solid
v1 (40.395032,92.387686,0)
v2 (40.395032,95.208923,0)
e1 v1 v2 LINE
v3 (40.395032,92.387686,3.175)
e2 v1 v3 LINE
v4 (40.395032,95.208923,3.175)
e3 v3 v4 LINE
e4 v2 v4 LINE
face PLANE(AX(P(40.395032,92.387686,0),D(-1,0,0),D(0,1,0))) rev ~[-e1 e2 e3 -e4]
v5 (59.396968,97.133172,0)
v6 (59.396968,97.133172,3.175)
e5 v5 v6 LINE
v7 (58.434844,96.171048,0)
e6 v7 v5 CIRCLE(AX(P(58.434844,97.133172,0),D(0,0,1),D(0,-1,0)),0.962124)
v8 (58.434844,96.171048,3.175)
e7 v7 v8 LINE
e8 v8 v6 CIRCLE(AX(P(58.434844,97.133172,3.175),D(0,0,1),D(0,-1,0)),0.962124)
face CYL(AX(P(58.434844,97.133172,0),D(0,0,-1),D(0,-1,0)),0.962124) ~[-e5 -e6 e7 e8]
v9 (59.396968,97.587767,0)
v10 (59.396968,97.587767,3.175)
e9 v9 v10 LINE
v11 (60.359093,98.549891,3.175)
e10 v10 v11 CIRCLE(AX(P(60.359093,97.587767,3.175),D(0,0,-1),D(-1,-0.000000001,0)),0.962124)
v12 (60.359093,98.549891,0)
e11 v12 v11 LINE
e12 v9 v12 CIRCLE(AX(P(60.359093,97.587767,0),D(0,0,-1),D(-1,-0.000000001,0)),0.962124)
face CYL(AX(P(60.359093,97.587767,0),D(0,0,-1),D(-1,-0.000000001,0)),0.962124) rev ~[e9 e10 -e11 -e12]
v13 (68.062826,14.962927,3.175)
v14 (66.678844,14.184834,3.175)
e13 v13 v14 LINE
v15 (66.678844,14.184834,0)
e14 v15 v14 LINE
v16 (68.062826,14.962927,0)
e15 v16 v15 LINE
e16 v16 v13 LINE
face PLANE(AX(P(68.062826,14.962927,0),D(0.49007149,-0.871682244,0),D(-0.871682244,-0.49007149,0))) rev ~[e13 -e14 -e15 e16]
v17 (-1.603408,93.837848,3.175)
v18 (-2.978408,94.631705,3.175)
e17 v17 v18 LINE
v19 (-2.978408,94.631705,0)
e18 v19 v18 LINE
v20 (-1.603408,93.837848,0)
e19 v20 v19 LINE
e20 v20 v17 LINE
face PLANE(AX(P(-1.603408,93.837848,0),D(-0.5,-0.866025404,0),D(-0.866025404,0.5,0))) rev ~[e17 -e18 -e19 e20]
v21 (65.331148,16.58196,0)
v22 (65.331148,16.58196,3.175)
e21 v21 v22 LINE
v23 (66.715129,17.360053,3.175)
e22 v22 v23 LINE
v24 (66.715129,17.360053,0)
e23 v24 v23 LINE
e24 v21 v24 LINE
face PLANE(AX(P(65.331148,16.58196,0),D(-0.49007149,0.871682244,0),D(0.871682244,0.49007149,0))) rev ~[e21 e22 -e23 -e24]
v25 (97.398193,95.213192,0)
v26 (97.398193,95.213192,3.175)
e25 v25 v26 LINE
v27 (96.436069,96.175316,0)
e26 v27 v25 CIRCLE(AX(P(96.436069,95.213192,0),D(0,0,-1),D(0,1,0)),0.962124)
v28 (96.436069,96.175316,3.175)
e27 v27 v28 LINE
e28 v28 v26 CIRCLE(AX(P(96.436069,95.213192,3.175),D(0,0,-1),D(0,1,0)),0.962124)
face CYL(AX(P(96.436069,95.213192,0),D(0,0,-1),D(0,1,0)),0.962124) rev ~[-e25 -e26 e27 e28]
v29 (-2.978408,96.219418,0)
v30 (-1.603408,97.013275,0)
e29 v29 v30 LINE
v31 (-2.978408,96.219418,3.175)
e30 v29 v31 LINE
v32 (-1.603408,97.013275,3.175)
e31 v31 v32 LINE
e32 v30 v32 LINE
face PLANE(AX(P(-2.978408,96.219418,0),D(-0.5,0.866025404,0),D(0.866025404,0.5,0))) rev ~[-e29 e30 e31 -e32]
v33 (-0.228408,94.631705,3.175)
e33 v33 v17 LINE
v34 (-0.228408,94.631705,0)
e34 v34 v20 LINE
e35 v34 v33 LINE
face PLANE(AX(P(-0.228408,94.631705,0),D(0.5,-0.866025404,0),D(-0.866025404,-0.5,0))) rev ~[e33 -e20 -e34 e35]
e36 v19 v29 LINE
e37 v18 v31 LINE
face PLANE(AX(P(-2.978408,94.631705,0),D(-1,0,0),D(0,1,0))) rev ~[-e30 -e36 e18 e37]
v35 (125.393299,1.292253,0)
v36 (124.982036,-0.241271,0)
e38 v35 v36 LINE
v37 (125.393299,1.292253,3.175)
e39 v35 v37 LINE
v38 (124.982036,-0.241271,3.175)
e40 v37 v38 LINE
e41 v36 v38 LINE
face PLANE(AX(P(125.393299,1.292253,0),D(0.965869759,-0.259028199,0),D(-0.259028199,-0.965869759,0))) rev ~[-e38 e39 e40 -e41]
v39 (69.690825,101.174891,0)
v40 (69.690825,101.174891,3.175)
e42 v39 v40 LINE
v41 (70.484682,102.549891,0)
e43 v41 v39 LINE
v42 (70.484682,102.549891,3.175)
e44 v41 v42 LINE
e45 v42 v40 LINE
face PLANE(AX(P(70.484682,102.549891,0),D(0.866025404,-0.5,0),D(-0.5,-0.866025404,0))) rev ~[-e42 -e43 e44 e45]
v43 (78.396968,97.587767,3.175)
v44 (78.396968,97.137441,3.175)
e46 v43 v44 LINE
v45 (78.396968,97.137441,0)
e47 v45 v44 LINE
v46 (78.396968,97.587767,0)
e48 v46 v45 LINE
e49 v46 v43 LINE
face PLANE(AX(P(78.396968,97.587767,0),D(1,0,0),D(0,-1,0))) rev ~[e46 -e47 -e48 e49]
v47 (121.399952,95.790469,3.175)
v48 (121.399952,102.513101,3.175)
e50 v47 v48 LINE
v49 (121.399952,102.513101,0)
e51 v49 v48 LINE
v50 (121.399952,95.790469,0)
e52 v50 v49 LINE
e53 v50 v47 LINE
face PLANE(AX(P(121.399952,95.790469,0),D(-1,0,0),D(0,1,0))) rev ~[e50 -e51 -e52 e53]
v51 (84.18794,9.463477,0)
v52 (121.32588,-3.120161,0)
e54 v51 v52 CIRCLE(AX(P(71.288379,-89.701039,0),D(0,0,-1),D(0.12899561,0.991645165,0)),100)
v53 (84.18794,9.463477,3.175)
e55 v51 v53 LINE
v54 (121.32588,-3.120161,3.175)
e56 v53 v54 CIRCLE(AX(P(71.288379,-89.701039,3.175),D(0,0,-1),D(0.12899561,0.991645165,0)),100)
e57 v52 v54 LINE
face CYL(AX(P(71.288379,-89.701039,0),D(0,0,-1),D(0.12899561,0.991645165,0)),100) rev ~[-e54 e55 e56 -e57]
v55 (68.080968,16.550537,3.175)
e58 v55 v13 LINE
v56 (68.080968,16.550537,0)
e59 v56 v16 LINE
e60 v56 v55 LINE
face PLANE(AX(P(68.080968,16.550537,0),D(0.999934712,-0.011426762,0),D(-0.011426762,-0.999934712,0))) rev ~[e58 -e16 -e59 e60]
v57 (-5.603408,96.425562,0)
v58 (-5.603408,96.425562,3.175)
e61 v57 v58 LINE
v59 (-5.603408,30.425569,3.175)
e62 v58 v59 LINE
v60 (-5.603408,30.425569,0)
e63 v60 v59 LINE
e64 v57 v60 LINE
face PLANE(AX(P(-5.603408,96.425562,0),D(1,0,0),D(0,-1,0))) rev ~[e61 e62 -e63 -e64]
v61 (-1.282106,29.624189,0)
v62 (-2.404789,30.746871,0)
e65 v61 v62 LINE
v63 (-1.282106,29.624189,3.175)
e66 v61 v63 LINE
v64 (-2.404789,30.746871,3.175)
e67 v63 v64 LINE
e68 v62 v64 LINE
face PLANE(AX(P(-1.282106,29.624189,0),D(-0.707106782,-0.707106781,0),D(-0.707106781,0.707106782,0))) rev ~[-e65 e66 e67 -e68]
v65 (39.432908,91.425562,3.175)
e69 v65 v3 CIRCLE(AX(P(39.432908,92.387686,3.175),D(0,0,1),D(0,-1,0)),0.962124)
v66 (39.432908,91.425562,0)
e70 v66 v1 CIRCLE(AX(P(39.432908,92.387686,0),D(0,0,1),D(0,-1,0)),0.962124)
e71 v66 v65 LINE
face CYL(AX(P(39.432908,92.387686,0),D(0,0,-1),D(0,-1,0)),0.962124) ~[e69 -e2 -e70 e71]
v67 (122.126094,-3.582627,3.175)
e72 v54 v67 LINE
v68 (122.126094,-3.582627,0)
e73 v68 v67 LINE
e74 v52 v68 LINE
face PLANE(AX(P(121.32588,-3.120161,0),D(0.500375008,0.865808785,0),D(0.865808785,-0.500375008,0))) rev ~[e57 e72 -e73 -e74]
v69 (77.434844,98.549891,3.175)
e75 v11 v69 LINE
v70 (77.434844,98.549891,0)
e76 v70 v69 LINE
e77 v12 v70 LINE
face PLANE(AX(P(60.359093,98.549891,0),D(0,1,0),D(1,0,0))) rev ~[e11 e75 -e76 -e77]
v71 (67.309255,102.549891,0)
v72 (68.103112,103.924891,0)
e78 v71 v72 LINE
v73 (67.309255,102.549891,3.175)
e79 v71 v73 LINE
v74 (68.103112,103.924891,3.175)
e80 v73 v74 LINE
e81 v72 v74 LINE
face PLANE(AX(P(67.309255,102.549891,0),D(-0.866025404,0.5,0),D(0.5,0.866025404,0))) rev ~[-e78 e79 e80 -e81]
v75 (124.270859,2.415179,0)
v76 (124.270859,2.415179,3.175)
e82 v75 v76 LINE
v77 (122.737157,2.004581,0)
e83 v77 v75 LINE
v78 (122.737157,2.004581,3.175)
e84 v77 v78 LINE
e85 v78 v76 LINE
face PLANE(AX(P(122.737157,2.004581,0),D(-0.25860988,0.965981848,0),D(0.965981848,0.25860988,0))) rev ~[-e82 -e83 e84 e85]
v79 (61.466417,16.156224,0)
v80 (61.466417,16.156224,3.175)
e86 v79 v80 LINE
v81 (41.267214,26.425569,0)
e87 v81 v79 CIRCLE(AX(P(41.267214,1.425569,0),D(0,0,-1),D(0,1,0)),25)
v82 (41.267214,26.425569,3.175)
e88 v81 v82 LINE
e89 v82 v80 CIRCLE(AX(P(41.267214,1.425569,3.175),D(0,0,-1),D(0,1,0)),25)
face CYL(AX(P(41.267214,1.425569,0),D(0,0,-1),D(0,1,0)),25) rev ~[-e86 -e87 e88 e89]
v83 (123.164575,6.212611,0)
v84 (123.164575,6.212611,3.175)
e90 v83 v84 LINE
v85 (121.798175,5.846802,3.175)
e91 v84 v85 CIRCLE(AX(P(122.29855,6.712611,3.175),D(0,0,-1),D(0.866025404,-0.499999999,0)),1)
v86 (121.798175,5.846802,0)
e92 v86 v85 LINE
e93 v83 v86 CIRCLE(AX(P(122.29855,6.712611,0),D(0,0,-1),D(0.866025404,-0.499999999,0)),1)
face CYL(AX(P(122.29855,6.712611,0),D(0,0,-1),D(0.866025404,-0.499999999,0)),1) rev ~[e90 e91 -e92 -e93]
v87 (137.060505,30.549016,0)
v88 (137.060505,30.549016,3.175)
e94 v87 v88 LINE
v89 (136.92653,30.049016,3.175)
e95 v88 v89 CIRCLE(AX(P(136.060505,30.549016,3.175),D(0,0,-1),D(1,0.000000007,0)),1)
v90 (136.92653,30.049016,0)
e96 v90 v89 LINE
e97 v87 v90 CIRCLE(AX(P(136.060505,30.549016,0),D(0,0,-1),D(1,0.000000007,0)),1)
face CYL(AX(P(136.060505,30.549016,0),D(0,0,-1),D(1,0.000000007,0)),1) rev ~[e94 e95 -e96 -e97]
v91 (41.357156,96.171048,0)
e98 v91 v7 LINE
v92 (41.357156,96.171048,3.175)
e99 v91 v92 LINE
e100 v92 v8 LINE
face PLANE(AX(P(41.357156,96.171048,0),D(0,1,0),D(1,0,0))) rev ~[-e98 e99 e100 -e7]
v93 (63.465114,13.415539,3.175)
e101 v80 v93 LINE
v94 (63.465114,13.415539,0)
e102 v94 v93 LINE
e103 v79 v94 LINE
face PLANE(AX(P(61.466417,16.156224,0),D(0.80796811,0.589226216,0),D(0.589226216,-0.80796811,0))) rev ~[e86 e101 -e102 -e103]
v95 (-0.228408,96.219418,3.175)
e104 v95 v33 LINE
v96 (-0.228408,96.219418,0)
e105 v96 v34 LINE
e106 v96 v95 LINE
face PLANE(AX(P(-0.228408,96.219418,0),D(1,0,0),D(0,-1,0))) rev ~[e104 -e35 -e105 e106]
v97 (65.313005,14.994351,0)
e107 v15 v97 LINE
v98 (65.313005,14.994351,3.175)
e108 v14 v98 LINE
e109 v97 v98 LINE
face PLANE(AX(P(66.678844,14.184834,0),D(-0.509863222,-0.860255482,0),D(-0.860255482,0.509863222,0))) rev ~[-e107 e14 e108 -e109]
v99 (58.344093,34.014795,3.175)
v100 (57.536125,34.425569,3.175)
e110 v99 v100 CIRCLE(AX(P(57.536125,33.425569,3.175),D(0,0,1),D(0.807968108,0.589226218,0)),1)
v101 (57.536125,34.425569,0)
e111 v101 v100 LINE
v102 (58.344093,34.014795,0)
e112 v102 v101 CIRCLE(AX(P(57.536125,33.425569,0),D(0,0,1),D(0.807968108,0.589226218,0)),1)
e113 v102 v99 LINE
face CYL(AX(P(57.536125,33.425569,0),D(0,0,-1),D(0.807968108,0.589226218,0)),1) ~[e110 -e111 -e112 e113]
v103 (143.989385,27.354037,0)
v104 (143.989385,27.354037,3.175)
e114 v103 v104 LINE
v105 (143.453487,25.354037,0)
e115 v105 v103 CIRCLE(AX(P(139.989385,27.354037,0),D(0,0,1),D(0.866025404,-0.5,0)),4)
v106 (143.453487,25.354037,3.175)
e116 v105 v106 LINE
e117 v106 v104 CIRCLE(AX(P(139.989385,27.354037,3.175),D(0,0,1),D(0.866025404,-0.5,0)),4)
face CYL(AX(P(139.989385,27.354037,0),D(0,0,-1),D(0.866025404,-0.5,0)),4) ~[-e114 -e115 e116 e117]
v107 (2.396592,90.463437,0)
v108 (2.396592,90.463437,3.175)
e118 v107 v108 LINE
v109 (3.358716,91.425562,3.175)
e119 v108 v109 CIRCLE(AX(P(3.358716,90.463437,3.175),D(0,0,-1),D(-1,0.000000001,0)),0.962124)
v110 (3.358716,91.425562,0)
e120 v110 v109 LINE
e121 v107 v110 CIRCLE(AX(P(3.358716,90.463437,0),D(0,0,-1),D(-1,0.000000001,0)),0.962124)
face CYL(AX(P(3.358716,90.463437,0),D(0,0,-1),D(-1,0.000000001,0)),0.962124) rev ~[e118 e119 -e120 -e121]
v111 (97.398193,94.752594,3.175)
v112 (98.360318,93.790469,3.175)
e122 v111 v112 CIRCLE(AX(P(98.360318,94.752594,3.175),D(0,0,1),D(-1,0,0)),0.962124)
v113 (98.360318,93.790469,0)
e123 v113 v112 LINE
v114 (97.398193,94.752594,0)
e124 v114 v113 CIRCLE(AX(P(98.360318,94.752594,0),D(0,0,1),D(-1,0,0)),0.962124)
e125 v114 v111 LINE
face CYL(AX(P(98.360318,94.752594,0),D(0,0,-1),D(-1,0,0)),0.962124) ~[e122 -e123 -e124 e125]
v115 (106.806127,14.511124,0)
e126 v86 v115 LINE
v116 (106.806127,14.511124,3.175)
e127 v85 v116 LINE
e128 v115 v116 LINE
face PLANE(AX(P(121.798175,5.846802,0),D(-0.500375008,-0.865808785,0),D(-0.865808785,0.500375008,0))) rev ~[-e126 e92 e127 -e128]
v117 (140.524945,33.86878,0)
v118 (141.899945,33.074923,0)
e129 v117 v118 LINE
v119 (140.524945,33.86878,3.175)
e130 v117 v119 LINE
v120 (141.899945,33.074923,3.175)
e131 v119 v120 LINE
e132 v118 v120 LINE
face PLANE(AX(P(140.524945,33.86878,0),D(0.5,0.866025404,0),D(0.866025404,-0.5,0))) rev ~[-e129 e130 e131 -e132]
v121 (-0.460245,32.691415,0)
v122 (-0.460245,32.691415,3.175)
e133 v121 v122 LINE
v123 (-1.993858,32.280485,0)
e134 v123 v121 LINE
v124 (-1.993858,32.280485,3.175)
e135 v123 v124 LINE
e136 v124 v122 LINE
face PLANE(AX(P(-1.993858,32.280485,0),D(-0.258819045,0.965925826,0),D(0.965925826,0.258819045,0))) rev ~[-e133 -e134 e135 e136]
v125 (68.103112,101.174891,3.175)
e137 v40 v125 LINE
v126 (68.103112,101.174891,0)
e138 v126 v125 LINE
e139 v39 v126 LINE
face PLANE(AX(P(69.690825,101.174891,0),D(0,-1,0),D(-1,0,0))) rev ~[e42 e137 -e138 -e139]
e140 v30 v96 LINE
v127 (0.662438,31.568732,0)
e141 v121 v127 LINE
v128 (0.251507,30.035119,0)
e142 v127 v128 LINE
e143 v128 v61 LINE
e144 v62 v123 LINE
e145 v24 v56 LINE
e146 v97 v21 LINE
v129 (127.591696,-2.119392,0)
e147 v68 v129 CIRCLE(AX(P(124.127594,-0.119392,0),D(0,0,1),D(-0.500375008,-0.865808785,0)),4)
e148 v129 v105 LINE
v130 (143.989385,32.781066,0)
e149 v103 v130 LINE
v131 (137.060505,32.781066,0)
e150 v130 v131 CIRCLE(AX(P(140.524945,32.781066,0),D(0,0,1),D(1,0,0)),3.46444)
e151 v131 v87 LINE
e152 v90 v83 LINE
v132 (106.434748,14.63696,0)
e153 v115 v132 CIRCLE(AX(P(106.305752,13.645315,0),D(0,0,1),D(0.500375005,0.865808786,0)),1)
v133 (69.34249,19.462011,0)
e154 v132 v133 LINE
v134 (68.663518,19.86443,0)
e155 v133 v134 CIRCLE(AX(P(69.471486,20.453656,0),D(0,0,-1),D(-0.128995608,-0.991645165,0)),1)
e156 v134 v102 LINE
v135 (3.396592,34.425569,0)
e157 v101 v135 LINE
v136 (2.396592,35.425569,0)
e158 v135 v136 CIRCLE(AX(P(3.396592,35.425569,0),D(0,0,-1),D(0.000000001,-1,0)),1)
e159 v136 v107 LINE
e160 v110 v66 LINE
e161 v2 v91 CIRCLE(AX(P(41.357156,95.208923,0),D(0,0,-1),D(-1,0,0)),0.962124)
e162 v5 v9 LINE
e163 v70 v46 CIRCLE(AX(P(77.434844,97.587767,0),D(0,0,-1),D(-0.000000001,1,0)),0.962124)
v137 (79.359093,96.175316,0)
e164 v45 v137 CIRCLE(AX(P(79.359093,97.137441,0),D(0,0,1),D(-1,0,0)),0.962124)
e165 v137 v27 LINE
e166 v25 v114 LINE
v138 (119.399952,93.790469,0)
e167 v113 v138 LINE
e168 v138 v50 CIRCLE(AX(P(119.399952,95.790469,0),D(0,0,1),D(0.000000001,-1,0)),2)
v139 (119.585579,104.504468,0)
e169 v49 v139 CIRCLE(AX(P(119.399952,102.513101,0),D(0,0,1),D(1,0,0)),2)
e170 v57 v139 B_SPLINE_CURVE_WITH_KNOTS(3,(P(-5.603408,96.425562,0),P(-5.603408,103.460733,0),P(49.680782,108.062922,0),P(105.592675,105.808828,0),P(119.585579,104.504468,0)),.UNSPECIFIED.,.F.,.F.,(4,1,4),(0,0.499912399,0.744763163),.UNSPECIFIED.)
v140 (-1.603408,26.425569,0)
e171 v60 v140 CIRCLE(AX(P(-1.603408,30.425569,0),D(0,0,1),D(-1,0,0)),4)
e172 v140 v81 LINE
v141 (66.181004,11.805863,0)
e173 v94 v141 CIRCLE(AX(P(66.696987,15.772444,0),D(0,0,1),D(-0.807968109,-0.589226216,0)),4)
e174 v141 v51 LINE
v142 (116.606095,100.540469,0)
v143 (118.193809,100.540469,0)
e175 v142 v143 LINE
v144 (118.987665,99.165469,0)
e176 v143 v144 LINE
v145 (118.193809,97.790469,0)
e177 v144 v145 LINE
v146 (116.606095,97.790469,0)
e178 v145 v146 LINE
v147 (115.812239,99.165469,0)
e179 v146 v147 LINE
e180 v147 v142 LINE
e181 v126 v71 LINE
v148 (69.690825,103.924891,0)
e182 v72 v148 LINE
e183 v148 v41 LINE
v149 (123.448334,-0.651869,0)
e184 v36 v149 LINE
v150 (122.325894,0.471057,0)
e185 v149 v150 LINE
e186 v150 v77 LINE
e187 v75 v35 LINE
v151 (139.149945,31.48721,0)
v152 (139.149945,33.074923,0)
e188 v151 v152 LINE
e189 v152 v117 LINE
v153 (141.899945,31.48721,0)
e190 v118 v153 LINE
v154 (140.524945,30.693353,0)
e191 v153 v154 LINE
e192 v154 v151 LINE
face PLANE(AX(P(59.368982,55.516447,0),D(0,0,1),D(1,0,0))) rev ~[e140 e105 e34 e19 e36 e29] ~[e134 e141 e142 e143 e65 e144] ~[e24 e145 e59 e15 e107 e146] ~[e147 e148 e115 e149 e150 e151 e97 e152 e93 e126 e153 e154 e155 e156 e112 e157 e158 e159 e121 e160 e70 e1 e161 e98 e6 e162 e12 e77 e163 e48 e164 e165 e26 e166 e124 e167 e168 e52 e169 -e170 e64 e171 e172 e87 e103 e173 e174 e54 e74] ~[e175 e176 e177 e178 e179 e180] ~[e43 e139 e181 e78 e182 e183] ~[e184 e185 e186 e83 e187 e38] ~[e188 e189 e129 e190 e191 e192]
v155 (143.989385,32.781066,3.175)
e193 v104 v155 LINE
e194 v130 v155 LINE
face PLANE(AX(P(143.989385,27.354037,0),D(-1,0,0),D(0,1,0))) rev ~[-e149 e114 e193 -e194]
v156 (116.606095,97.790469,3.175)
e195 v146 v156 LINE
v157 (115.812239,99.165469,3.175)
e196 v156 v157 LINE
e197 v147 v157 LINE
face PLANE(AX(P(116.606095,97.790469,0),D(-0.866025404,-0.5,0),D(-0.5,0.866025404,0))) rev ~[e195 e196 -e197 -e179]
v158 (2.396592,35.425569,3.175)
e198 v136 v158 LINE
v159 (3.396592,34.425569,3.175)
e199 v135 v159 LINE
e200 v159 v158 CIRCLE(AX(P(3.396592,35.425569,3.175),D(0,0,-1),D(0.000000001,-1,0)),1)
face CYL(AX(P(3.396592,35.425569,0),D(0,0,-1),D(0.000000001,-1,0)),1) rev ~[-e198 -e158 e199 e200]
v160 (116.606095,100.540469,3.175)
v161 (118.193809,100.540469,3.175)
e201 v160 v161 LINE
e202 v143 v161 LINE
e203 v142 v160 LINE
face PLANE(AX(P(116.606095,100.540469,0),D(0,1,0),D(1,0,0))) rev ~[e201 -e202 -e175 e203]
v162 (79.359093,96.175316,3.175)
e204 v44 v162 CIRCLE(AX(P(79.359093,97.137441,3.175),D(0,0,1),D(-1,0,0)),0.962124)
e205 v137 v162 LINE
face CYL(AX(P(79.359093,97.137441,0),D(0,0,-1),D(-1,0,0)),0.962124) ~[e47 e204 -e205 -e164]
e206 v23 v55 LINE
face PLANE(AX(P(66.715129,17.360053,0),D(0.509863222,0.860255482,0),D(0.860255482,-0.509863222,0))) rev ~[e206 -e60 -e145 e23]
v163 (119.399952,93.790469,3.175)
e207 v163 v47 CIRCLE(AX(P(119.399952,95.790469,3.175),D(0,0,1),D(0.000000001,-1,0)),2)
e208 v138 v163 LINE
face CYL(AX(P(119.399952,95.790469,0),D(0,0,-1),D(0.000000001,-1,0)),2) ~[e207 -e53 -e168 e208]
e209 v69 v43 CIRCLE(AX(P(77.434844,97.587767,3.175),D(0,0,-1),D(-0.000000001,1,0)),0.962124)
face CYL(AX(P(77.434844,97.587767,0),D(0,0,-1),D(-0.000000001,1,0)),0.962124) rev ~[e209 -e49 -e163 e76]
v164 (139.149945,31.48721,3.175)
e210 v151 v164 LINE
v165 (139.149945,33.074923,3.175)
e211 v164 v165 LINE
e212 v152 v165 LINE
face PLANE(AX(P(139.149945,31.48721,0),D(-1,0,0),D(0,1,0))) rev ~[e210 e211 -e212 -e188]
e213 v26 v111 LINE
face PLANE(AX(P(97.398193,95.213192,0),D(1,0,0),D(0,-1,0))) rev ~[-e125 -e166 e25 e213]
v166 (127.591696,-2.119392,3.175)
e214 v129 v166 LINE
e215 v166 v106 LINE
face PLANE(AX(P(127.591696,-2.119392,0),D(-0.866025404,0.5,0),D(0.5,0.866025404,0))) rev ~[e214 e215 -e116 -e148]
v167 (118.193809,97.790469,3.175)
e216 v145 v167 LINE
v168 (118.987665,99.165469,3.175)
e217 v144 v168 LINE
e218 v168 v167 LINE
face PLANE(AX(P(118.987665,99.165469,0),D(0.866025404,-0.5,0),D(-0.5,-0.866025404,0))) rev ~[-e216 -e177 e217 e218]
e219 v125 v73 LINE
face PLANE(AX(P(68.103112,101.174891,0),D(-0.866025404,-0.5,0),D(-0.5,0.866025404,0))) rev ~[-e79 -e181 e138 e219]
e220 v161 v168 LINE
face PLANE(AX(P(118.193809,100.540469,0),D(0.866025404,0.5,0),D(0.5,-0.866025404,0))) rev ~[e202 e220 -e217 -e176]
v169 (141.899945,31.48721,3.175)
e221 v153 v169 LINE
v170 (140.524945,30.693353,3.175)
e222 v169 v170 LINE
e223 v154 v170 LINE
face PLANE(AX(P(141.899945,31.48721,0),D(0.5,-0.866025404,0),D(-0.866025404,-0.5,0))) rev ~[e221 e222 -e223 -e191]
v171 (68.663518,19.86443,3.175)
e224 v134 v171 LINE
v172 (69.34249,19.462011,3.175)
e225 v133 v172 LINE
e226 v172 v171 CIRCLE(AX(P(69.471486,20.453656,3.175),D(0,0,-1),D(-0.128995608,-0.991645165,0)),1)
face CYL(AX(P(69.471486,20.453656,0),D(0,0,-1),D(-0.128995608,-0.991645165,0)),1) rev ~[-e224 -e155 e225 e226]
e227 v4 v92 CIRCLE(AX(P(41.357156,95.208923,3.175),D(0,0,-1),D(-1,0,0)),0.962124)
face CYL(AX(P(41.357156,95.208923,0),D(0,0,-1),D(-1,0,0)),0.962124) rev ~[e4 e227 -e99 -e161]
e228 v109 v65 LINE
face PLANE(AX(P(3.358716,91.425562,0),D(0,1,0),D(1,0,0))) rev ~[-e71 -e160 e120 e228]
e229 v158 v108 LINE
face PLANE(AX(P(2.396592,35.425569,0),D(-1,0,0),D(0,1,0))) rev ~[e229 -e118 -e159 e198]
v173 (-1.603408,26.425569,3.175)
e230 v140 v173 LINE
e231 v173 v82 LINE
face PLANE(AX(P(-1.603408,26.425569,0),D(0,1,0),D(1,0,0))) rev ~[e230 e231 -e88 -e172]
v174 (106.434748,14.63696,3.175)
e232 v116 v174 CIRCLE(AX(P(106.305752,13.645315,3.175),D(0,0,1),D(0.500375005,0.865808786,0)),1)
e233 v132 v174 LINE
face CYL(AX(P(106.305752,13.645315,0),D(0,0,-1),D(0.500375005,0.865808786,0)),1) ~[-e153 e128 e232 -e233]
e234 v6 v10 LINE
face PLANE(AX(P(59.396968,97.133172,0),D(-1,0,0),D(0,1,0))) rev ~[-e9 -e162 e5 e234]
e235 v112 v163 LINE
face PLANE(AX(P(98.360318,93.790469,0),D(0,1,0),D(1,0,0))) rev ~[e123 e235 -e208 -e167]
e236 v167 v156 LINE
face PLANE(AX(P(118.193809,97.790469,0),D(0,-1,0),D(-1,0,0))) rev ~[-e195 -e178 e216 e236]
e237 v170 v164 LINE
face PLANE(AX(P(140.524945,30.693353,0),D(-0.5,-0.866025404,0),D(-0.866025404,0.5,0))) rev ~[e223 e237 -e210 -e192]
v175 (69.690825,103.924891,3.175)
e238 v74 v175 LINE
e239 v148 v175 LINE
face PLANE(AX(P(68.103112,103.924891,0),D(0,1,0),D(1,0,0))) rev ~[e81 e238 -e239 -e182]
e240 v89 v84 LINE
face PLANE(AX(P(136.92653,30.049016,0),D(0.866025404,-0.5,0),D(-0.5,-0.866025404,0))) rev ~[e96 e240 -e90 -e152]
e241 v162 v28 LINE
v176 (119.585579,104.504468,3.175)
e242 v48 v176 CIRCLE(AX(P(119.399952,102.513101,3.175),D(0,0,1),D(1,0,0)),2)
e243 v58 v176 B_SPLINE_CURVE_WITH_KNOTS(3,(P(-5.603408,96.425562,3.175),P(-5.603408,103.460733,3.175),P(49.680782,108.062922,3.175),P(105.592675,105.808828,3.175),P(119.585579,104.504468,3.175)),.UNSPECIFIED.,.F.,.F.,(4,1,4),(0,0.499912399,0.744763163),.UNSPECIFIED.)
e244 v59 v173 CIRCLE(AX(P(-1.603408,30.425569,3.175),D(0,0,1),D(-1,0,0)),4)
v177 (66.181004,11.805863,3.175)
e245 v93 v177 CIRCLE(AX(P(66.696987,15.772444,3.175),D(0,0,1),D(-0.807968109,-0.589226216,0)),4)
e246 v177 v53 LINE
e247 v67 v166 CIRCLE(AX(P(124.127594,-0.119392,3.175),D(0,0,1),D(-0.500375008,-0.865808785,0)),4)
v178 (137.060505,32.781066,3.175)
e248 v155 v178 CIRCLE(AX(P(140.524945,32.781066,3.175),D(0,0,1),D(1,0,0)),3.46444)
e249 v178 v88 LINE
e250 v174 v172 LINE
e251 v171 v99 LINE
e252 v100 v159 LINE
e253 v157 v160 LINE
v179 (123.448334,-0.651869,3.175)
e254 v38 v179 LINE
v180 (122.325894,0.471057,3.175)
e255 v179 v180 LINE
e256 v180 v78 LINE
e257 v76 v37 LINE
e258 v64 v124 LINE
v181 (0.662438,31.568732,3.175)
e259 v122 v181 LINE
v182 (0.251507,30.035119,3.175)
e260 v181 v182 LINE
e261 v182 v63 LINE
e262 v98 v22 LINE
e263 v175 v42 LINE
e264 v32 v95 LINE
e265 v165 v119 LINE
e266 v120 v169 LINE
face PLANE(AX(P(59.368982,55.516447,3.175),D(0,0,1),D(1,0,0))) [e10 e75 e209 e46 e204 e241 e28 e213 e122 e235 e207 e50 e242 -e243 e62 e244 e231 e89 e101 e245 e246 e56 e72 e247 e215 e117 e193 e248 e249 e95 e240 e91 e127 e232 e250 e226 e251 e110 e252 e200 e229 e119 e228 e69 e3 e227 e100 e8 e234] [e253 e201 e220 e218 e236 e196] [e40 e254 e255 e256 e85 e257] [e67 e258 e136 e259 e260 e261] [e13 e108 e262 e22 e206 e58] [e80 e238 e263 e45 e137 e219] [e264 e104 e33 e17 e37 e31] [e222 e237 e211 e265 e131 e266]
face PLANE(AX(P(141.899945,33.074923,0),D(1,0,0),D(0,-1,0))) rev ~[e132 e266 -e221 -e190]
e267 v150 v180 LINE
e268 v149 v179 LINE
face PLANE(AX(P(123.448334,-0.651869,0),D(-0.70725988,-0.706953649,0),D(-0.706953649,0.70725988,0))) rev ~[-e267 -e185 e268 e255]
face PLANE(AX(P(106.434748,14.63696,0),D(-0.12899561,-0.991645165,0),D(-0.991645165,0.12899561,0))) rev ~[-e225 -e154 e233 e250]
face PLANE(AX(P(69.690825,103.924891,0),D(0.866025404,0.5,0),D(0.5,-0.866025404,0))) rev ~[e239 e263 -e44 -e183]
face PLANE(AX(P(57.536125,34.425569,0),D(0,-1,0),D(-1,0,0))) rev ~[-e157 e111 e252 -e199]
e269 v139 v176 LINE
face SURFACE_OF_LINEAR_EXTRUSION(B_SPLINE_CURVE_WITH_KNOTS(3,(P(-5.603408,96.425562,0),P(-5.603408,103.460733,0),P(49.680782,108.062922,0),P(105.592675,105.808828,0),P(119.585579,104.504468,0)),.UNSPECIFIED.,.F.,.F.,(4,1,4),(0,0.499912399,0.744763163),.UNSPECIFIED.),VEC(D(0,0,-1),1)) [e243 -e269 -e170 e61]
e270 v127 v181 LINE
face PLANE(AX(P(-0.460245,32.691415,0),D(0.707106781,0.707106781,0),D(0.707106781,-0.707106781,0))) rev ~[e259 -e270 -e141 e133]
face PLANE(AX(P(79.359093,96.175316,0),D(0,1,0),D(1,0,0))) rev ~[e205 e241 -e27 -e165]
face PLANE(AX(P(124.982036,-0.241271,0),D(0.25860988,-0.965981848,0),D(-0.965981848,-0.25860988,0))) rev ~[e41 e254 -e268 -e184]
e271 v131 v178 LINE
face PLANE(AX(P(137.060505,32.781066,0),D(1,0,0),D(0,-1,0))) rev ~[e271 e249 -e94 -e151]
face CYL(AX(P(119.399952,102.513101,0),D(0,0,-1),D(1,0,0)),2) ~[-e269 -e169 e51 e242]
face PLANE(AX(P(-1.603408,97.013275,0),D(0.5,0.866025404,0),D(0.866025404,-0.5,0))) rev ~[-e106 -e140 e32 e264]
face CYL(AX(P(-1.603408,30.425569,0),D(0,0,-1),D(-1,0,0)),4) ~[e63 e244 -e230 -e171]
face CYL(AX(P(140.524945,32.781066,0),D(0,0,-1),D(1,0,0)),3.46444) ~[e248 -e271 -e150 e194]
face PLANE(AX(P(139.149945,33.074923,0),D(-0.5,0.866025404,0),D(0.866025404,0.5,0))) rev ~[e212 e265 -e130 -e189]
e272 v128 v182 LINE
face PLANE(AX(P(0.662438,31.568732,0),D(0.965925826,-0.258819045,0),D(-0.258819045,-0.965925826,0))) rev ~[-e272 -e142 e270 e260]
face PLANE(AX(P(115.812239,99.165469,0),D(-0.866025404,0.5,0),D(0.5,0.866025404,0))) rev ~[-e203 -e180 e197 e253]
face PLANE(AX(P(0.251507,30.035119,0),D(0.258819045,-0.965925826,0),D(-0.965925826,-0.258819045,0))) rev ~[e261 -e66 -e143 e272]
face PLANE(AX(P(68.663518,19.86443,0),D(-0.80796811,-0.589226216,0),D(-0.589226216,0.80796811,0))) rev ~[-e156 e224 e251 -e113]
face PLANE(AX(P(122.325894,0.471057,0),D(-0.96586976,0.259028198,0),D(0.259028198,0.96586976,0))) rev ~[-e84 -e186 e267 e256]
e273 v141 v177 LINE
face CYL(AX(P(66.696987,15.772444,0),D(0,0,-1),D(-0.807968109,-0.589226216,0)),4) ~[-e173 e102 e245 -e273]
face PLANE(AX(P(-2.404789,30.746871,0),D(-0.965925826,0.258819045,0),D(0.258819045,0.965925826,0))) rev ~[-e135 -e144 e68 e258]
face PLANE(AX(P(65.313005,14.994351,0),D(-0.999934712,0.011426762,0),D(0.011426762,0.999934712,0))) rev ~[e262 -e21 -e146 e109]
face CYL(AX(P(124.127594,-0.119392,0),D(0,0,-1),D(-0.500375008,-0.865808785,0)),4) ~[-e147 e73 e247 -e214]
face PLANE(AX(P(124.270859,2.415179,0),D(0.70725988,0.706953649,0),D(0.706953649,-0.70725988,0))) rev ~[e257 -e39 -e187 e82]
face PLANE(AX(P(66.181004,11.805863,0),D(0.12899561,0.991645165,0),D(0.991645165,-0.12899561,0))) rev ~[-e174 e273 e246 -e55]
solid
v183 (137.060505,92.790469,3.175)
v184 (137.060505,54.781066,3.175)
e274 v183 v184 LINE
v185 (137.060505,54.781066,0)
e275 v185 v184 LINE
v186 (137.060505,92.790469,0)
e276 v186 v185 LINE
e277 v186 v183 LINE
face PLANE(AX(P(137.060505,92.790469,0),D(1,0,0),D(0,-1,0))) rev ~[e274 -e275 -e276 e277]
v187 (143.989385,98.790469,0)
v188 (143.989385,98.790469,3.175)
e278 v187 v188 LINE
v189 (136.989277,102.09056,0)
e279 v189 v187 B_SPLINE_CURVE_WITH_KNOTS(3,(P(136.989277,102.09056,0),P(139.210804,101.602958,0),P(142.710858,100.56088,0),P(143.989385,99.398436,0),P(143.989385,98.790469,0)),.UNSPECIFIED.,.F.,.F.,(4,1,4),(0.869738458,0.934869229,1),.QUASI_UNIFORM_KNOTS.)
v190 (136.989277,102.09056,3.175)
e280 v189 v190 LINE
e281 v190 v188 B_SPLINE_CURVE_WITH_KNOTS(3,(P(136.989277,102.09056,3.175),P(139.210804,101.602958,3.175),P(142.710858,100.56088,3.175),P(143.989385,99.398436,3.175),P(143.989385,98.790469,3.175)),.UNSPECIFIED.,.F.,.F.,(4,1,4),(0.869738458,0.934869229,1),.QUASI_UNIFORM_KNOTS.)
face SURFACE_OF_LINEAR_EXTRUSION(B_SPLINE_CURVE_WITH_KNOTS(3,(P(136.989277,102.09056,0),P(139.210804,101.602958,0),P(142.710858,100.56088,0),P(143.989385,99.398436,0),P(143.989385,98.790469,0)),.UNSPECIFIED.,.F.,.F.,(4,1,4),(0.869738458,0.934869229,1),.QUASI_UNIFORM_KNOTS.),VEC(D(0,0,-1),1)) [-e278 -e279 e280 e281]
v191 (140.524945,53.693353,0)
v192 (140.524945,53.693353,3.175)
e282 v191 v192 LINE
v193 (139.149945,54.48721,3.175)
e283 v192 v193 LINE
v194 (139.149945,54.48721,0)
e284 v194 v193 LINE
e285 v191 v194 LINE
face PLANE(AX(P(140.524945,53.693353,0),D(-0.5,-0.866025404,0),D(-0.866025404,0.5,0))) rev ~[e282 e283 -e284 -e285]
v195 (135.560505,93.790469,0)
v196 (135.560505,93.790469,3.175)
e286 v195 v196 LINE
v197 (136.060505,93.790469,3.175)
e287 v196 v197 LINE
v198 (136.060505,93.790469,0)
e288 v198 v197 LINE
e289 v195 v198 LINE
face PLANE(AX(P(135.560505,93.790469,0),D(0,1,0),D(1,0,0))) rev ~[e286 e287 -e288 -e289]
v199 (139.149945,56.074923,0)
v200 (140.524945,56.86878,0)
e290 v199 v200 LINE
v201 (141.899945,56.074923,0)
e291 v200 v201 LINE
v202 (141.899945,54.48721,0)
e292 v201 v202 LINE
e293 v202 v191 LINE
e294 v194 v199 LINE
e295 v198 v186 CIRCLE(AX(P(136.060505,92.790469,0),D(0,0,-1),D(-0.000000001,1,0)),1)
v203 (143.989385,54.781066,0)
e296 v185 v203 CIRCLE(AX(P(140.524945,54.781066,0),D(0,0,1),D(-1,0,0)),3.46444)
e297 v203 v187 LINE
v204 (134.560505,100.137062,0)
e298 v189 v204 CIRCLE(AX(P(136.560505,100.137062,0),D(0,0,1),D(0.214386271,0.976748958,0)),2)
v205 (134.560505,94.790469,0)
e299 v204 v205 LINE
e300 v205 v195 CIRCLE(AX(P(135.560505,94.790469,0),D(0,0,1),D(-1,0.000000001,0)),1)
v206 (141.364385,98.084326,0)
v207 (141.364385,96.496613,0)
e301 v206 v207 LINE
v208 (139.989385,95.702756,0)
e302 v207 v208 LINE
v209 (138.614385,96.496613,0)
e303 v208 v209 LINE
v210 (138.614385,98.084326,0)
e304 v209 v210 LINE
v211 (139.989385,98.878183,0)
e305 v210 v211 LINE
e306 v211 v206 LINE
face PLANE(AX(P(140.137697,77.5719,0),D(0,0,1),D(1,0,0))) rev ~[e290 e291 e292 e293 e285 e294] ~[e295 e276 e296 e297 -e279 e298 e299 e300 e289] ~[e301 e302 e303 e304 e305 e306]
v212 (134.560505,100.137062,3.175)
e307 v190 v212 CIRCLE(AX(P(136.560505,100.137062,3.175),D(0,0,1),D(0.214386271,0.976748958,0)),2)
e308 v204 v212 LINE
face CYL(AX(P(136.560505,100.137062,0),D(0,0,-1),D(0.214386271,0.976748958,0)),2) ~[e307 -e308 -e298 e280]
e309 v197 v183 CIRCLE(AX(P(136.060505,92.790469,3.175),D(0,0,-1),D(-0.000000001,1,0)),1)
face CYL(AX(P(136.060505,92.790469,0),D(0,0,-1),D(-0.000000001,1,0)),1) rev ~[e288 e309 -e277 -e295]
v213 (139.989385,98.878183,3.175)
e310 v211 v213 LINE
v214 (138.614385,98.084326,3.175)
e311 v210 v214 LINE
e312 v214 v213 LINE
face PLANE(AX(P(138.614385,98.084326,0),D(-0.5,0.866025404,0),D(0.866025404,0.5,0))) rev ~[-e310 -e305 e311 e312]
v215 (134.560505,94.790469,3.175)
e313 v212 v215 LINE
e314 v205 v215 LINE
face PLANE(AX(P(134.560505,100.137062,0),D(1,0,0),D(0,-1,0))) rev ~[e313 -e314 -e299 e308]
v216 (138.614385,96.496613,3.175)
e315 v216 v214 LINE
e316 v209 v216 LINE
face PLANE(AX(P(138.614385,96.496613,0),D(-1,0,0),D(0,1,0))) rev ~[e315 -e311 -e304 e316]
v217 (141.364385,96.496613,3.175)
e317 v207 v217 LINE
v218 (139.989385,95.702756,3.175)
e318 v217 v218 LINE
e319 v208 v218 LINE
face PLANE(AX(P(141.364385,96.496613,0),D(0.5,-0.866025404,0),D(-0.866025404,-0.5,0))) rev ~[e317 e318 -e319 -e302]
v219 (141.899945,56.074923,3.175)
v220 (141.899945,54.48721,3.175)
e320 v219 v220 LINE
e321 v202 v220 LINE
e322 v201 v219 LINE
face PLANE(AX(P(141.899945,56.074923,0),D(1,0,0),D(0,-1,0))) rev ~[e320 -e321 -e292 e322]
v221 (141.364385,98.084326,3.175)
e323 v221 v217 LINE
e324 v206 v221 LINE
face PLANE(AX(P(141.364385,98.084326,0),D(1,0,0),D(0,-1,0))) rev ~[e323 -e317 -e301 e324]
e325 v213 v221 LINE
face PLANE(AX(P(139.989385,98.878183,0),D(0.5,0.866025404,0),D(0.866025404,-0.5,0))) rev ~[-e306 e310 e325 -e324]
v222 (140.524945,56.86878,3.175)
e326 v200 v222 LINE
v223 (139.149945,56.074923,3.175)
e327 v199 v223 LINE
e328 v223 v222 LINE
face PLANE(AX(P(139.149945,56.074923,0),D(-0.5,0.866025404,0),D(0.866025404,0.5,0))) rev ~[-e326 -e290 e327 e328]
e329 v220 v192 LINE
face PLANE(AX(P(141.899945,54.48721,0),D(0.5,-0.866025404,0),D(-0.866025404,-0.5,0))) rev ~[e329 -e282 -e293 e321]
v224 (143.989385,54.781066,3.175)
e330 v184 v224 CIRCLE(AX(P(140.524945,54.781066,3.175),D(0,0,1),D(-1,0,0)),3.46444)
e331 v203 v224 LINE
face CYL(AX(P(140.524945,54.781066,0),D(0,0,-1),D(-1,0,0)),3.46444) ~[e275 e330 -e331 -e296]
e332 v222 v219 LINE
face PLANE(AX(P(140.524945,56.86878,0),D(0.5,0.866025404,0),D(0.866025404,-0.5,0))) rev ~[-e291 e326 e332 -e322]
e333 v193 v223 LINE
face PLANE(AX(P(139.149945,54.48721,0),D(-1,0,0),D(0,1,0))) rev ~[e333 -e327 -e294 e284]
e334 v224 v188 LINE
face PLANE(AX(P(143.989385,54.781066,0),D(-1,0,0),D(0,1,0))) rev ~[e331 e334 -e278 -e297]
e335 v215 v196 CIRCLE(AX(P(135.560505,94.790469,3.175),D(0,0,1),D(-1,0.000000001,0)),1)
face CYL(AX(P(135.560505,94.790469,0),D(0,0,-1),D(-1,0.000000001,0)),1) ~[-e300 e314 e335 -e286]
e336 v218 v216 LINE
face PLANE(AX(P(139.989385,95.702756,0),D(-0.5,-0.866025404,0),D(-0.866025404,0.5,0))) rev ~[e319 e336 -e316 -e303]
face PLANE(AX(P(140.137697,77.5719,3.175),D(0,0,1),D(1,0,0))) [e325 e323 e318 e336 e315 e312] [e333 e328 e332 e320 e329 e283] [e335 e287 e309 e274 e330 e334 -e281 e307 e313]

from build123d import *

# Parameters (mm, degrees)
BOSS_EXTRUDE1_DEPTH   = 3.175
BOSS_EXTRUDE1_2_DEPTH = 3.175


with BuildPart() as part:
    # Sketch2 → Boss-Extrude1 (new body)
    with BuildSketch(Plane.XY):
        with BuildLine():
            ThreePointArc((137.06050463, 54.781066453), (140.524945013, 51.31662607), (143.989385396, 54.781066453))
            Line((143.989385396, 54.781066453), (143.989385396, 98.790469349))
            add(Edge.make_bspline(
                [(136.989277174, 102.090560266), (139.210803765, 101.602958206), (142.710857876, 100.560879885), (143.989385396, 99.398436487), (143.989385396, 98.790469349)],
                knots=[0.869738458, 0.869738458, 0.869738458, 0.869738458, 0.934869229, 1, 1, 1, 1], degree=3))
            ThreePointArc((136.989277174, 102.090560266), (135.307018509, 101.69551432), (134.560504631, 100.13706235))
            Line((134.560504631, 100.13706235), (134.560504631, 94.790469349))
            ThreePointArc((134.560504631, 94.790469349), (134.853397849, 94.083362568), (135.560504631, 93.790469349))
            Line((135.560504631, 93.790469349), (136.06050463, 93.790469349))
            ThreePointArc((136.06050463, 93.790469349), (136.767611411, 93.497576131), (137.06050463, 92.790469349))
            Line((137.06050463, 92.790469349), (137.06050463, 54.781066453))
        make_face()
        Polygon((141.899945013, 54.487209833), (140.524945013, 53.693353213), (139.149945013, 54.487209833), (139.149945013, 56.074923073), (140.524945013, 56.868779693), (141.899945013, 56.074923073), align=None, mode=Mode.SUBTRACT)
        Polygon((141.364385396, 96.496612729), (139.989385396, 95.702756109), (138.614385396, 96.496612729), (138.614385396, 98.084325969), (139.989385396, 98.87818259), (141.364385396, 98.084325969), align=None, mode=Mode.SUBTRACT)
    extrude(amount=BOSS_EXTRUDE1_DEPTH)


with BuildPart() as body_2:
    # Sketch2 → Boss-Extrude1 2 (new body)
    with BuildSketch(Plane.XY):
        with BuildLine():
            Line((2.396591635, 35.425568858), (2.396591635, 90.463437274))
            ThreePointArc((2.396591635, 90.463437274), (2.678391323, 91.143761902), (3.358715952, 91.42556159))
            Line((3.358715952, 91.42556159), (39.432907616, 91.42556159))
            ThreePointArc((39.432907616, 91.42556159), (40.113232245, 91.707361278), (40.395031933, 92.387685907))
            Line((40.395031933, 92.387685907), (40.395031933, 95.208923218))
            ThreePointArc((40.395031933, 95.208923218), (40.676831621, 95.889247847), (41.357156249, 96.171047535))
            Line((41.357156249, 96.171047535), (58.434844112, 96.171047535))
            ThreePointArc((58.434844112, 96.171047535), (59.115168741, 96.452847223), (59.396968429, 97.133171852))
            Line((59.396968429, 97.133171852), (59.396968429, 97.587767164))
            ThreePointArc((59.396968429, 97.587767164), (59.678768117, 98.268091793), (60.359092745, 98.54989148))
            Line((60.359092745, 98.54989148), (77.434844109, 98.54989148))
            ThreePointArc((77.434844109, 98.54989148), (78.115168737, 98.268091793), (78.396968425, 97.587767164))
            Line((78.396968425, 97.587767164), (78.396968425, 97.137440751))
            ThreePointArc((78.396968425, 97.137440751), (78.678768113, 96.457116122), (79.359092742, 96.175316434))
            Line((79.359092742, 96.175316434), (96.436069121, 96.175316434))
            ThreePointArc((96.436069121, 96.175316434), (97.11639375, 95.893516746), (97.398193438, 95.213192117))
            Line((97.398193438, 95.213192117), (97.398193438, 94.752593666))
            ThreePointArc((97.398193438, 94.752593666), (97.679993126, 94.072269037), (98.360317754, 93.790469349))
            Line((98.360317754, 93.790469349), (119.399952063, 93.790469349))
            ThreePointArc((119.399952063, 93.790469349), (120.814165625, 94.376255787), (121.399952063, 95.790469349))
            Line((121.399952063, 95.790469349), (121.399952063, 102.513101085))
            ThreePointArc((121.399952063, 102.513101085), (120.878338657, 103.860087751), (119.585578985, 104.504468115))
            add(Edge.make_bspline(
                [(-5.603408365, 96.42556159), (-5.603408365, 103.460733083), (49.680782472, 108.062922152), (105.592674988, 105.808828214), (119.585578985, 104.504468115)],
                knots=[0, 0, 0, 0, 0.499912399, 0.744763163, 0.744763163, 0.744763163, 0.744763163], degree=3))
            Line((-5.603408365, 96.42556159), (-5.603408365, 30.425568858))
            ThreePointArc((-5.603408365, 30.425568858), (-4.43183549, 27.597141733), (-1.603408365, 26.425568858))
            Line((-1.603408365, 26.425568858), (41.26721418, 26.425568858))
            ThreePointArc((41.26721418, 26.425568858), (52.597121833, 23.710837368), (61.46641692, 16.156224264))
            Line((61.46641692, 16.156224264), (63.465114175, 13.41553894))
            ThreePointArc((63.465114175, 13.41553894), (64.657533725, 12.331421876), (66.181004174, 11.805863146))
            Line((66.181004174, 11.805863146), (84.187939735, 9.463477264))
            ThreePointArc((84.187939735, 9.463477264), (103.379739296, 5.009808001), (121.325879515, -3.120160731))
            Line((121.325879515, -3.120160731), (122.126093986, -3.582626958))
            ThreePointArc((122.126093986, -3.582626958), (125.162033535, -3.98331921), (127.591695632, -2.119391819))
            Line((127.591695632, -2.119391819), (143.453487011, 25.354036748))
            ThreePointArc((143.453487011, 25.354036748), (143.853088701, 26.318760568), (143.989385396, 27.354036748))
            Line((143.989385396, 27.354036748), (143.989385396, 32.781066453))
            ThreePointArc((143.989385396, 32.781066453), (140.524945013, 36.245506836), (137.06050463, 32.781066453))
            Line((137.06050463, 32.781066453), (137.06050463, 30.549015646))
            ThreePointArc((137.06050463, 30.549015646), (137.026430457, 30.2901966), (136.926530034, 30.049015646))
            Line((136.926530034, 30.049015646), (123.164575325, 6.212610879))
            ThreePointArc((123.164575325, 6.212610879), (122.557159801, 5.746629031), (121.798174914, 5.846802094))
            Line((121.798174914, 5.846802094), (106.806127324, 14.511123893))
            ThreePointArc((106.806127324, 14.511123893), (106.626665922, 14.59242358), (106.434747926, 14.636960273))
            Line((106.434747926, 14.636960273), (69.342490165, 19.462011189))
            ThreePointArc((69.342490165, 19.462011189), (68.961622553, 19.593400871), (68.663517666, 19.864430137))
            Line((68.663517666, 19.864430137), (58.344093061, 34.014795074))
            ThreePointArc((58.344093061, 34.014795074), (57.989321257, 34.316979598), (57.536124951, 34.425568858))
            Line((57.536124951, 34.425568858), (3.396591635, 34.425568858))
            ThreePointArc((3.396591635, 34.425568858), (2.689484854, 34.718462076), (2.396591635, 35.425568858))
        make_face()
        Polygon((68.062825633, 14.962927216), (66.678844193, 14.184834223), (65.313005174, 14.994350811), (65.331147595, 16.581960394), (66.715129035, 17.360053387), (68.080968054, 16.550536798), align=None, mode=Mode.SUBTRACT)
        Polygon((0.251507481, 30.035119106), (-1.282105743, 29.624188681), (-2.404788541, 30.74687148), (-1.993858117, 32.280484703), (-0.460244893, 32.691415128), (0.662437906, 31.568732329), align=None, mode=Mode.SUBTRACT)
        Polygon((125.393298838, 1.29225324), (124.982036337, -0.241270965), (123.448334168, -0.651869295), (122.325894499, 0.471056581), (122.737156999, 2.004580786), (124.270859169, 2.415179116), align=None, mode=Mode.SUBTRACT)
        Polygon((141.899945013, 31.487209833), (140.524945013, 30.693353213), (139.149945013, 31.487209833), (139.149945013, 33.074923073), (140.524945013, 33.868779693), (141.899945013, 33.074923073), align=None, mode=Mode.SUBTRACT)
        Polygon((-0.228408365, 94.63170497), (-1.603408365, 93.83784835), (-2.978408365, 94.63170497), (-2.978408365, 96.219418211), (-1.603408365, 97.013274831), (-0.228408365, 96.219418211), align=None, mode=Mode.SUBTRACT)
        Polygon((70.484681667, 102.54989148), (69.690825047, 101.17489148), (68.103111807, 101.17489148), (67.309255187, 102.54989148), (68.103111807, 103.92489148), (69.690825047, 103.92489148), align=None, mode=Mode.SUBTRACT)
        Polygon((118.987665303, 99.165469349), (118.193808683, 97.790469349), (116.606095443, 97.790469349), (115.812238823, 99.165469349), (116.606095443, 100.540469349), (118.193808683, 100.540469349), align=None, mode=Mode.SUBTRACT)
    extrude(amount=BOSS_EXTRUDE1_2_DEPTH)


solid = Compound([part.part, body_2.part])
